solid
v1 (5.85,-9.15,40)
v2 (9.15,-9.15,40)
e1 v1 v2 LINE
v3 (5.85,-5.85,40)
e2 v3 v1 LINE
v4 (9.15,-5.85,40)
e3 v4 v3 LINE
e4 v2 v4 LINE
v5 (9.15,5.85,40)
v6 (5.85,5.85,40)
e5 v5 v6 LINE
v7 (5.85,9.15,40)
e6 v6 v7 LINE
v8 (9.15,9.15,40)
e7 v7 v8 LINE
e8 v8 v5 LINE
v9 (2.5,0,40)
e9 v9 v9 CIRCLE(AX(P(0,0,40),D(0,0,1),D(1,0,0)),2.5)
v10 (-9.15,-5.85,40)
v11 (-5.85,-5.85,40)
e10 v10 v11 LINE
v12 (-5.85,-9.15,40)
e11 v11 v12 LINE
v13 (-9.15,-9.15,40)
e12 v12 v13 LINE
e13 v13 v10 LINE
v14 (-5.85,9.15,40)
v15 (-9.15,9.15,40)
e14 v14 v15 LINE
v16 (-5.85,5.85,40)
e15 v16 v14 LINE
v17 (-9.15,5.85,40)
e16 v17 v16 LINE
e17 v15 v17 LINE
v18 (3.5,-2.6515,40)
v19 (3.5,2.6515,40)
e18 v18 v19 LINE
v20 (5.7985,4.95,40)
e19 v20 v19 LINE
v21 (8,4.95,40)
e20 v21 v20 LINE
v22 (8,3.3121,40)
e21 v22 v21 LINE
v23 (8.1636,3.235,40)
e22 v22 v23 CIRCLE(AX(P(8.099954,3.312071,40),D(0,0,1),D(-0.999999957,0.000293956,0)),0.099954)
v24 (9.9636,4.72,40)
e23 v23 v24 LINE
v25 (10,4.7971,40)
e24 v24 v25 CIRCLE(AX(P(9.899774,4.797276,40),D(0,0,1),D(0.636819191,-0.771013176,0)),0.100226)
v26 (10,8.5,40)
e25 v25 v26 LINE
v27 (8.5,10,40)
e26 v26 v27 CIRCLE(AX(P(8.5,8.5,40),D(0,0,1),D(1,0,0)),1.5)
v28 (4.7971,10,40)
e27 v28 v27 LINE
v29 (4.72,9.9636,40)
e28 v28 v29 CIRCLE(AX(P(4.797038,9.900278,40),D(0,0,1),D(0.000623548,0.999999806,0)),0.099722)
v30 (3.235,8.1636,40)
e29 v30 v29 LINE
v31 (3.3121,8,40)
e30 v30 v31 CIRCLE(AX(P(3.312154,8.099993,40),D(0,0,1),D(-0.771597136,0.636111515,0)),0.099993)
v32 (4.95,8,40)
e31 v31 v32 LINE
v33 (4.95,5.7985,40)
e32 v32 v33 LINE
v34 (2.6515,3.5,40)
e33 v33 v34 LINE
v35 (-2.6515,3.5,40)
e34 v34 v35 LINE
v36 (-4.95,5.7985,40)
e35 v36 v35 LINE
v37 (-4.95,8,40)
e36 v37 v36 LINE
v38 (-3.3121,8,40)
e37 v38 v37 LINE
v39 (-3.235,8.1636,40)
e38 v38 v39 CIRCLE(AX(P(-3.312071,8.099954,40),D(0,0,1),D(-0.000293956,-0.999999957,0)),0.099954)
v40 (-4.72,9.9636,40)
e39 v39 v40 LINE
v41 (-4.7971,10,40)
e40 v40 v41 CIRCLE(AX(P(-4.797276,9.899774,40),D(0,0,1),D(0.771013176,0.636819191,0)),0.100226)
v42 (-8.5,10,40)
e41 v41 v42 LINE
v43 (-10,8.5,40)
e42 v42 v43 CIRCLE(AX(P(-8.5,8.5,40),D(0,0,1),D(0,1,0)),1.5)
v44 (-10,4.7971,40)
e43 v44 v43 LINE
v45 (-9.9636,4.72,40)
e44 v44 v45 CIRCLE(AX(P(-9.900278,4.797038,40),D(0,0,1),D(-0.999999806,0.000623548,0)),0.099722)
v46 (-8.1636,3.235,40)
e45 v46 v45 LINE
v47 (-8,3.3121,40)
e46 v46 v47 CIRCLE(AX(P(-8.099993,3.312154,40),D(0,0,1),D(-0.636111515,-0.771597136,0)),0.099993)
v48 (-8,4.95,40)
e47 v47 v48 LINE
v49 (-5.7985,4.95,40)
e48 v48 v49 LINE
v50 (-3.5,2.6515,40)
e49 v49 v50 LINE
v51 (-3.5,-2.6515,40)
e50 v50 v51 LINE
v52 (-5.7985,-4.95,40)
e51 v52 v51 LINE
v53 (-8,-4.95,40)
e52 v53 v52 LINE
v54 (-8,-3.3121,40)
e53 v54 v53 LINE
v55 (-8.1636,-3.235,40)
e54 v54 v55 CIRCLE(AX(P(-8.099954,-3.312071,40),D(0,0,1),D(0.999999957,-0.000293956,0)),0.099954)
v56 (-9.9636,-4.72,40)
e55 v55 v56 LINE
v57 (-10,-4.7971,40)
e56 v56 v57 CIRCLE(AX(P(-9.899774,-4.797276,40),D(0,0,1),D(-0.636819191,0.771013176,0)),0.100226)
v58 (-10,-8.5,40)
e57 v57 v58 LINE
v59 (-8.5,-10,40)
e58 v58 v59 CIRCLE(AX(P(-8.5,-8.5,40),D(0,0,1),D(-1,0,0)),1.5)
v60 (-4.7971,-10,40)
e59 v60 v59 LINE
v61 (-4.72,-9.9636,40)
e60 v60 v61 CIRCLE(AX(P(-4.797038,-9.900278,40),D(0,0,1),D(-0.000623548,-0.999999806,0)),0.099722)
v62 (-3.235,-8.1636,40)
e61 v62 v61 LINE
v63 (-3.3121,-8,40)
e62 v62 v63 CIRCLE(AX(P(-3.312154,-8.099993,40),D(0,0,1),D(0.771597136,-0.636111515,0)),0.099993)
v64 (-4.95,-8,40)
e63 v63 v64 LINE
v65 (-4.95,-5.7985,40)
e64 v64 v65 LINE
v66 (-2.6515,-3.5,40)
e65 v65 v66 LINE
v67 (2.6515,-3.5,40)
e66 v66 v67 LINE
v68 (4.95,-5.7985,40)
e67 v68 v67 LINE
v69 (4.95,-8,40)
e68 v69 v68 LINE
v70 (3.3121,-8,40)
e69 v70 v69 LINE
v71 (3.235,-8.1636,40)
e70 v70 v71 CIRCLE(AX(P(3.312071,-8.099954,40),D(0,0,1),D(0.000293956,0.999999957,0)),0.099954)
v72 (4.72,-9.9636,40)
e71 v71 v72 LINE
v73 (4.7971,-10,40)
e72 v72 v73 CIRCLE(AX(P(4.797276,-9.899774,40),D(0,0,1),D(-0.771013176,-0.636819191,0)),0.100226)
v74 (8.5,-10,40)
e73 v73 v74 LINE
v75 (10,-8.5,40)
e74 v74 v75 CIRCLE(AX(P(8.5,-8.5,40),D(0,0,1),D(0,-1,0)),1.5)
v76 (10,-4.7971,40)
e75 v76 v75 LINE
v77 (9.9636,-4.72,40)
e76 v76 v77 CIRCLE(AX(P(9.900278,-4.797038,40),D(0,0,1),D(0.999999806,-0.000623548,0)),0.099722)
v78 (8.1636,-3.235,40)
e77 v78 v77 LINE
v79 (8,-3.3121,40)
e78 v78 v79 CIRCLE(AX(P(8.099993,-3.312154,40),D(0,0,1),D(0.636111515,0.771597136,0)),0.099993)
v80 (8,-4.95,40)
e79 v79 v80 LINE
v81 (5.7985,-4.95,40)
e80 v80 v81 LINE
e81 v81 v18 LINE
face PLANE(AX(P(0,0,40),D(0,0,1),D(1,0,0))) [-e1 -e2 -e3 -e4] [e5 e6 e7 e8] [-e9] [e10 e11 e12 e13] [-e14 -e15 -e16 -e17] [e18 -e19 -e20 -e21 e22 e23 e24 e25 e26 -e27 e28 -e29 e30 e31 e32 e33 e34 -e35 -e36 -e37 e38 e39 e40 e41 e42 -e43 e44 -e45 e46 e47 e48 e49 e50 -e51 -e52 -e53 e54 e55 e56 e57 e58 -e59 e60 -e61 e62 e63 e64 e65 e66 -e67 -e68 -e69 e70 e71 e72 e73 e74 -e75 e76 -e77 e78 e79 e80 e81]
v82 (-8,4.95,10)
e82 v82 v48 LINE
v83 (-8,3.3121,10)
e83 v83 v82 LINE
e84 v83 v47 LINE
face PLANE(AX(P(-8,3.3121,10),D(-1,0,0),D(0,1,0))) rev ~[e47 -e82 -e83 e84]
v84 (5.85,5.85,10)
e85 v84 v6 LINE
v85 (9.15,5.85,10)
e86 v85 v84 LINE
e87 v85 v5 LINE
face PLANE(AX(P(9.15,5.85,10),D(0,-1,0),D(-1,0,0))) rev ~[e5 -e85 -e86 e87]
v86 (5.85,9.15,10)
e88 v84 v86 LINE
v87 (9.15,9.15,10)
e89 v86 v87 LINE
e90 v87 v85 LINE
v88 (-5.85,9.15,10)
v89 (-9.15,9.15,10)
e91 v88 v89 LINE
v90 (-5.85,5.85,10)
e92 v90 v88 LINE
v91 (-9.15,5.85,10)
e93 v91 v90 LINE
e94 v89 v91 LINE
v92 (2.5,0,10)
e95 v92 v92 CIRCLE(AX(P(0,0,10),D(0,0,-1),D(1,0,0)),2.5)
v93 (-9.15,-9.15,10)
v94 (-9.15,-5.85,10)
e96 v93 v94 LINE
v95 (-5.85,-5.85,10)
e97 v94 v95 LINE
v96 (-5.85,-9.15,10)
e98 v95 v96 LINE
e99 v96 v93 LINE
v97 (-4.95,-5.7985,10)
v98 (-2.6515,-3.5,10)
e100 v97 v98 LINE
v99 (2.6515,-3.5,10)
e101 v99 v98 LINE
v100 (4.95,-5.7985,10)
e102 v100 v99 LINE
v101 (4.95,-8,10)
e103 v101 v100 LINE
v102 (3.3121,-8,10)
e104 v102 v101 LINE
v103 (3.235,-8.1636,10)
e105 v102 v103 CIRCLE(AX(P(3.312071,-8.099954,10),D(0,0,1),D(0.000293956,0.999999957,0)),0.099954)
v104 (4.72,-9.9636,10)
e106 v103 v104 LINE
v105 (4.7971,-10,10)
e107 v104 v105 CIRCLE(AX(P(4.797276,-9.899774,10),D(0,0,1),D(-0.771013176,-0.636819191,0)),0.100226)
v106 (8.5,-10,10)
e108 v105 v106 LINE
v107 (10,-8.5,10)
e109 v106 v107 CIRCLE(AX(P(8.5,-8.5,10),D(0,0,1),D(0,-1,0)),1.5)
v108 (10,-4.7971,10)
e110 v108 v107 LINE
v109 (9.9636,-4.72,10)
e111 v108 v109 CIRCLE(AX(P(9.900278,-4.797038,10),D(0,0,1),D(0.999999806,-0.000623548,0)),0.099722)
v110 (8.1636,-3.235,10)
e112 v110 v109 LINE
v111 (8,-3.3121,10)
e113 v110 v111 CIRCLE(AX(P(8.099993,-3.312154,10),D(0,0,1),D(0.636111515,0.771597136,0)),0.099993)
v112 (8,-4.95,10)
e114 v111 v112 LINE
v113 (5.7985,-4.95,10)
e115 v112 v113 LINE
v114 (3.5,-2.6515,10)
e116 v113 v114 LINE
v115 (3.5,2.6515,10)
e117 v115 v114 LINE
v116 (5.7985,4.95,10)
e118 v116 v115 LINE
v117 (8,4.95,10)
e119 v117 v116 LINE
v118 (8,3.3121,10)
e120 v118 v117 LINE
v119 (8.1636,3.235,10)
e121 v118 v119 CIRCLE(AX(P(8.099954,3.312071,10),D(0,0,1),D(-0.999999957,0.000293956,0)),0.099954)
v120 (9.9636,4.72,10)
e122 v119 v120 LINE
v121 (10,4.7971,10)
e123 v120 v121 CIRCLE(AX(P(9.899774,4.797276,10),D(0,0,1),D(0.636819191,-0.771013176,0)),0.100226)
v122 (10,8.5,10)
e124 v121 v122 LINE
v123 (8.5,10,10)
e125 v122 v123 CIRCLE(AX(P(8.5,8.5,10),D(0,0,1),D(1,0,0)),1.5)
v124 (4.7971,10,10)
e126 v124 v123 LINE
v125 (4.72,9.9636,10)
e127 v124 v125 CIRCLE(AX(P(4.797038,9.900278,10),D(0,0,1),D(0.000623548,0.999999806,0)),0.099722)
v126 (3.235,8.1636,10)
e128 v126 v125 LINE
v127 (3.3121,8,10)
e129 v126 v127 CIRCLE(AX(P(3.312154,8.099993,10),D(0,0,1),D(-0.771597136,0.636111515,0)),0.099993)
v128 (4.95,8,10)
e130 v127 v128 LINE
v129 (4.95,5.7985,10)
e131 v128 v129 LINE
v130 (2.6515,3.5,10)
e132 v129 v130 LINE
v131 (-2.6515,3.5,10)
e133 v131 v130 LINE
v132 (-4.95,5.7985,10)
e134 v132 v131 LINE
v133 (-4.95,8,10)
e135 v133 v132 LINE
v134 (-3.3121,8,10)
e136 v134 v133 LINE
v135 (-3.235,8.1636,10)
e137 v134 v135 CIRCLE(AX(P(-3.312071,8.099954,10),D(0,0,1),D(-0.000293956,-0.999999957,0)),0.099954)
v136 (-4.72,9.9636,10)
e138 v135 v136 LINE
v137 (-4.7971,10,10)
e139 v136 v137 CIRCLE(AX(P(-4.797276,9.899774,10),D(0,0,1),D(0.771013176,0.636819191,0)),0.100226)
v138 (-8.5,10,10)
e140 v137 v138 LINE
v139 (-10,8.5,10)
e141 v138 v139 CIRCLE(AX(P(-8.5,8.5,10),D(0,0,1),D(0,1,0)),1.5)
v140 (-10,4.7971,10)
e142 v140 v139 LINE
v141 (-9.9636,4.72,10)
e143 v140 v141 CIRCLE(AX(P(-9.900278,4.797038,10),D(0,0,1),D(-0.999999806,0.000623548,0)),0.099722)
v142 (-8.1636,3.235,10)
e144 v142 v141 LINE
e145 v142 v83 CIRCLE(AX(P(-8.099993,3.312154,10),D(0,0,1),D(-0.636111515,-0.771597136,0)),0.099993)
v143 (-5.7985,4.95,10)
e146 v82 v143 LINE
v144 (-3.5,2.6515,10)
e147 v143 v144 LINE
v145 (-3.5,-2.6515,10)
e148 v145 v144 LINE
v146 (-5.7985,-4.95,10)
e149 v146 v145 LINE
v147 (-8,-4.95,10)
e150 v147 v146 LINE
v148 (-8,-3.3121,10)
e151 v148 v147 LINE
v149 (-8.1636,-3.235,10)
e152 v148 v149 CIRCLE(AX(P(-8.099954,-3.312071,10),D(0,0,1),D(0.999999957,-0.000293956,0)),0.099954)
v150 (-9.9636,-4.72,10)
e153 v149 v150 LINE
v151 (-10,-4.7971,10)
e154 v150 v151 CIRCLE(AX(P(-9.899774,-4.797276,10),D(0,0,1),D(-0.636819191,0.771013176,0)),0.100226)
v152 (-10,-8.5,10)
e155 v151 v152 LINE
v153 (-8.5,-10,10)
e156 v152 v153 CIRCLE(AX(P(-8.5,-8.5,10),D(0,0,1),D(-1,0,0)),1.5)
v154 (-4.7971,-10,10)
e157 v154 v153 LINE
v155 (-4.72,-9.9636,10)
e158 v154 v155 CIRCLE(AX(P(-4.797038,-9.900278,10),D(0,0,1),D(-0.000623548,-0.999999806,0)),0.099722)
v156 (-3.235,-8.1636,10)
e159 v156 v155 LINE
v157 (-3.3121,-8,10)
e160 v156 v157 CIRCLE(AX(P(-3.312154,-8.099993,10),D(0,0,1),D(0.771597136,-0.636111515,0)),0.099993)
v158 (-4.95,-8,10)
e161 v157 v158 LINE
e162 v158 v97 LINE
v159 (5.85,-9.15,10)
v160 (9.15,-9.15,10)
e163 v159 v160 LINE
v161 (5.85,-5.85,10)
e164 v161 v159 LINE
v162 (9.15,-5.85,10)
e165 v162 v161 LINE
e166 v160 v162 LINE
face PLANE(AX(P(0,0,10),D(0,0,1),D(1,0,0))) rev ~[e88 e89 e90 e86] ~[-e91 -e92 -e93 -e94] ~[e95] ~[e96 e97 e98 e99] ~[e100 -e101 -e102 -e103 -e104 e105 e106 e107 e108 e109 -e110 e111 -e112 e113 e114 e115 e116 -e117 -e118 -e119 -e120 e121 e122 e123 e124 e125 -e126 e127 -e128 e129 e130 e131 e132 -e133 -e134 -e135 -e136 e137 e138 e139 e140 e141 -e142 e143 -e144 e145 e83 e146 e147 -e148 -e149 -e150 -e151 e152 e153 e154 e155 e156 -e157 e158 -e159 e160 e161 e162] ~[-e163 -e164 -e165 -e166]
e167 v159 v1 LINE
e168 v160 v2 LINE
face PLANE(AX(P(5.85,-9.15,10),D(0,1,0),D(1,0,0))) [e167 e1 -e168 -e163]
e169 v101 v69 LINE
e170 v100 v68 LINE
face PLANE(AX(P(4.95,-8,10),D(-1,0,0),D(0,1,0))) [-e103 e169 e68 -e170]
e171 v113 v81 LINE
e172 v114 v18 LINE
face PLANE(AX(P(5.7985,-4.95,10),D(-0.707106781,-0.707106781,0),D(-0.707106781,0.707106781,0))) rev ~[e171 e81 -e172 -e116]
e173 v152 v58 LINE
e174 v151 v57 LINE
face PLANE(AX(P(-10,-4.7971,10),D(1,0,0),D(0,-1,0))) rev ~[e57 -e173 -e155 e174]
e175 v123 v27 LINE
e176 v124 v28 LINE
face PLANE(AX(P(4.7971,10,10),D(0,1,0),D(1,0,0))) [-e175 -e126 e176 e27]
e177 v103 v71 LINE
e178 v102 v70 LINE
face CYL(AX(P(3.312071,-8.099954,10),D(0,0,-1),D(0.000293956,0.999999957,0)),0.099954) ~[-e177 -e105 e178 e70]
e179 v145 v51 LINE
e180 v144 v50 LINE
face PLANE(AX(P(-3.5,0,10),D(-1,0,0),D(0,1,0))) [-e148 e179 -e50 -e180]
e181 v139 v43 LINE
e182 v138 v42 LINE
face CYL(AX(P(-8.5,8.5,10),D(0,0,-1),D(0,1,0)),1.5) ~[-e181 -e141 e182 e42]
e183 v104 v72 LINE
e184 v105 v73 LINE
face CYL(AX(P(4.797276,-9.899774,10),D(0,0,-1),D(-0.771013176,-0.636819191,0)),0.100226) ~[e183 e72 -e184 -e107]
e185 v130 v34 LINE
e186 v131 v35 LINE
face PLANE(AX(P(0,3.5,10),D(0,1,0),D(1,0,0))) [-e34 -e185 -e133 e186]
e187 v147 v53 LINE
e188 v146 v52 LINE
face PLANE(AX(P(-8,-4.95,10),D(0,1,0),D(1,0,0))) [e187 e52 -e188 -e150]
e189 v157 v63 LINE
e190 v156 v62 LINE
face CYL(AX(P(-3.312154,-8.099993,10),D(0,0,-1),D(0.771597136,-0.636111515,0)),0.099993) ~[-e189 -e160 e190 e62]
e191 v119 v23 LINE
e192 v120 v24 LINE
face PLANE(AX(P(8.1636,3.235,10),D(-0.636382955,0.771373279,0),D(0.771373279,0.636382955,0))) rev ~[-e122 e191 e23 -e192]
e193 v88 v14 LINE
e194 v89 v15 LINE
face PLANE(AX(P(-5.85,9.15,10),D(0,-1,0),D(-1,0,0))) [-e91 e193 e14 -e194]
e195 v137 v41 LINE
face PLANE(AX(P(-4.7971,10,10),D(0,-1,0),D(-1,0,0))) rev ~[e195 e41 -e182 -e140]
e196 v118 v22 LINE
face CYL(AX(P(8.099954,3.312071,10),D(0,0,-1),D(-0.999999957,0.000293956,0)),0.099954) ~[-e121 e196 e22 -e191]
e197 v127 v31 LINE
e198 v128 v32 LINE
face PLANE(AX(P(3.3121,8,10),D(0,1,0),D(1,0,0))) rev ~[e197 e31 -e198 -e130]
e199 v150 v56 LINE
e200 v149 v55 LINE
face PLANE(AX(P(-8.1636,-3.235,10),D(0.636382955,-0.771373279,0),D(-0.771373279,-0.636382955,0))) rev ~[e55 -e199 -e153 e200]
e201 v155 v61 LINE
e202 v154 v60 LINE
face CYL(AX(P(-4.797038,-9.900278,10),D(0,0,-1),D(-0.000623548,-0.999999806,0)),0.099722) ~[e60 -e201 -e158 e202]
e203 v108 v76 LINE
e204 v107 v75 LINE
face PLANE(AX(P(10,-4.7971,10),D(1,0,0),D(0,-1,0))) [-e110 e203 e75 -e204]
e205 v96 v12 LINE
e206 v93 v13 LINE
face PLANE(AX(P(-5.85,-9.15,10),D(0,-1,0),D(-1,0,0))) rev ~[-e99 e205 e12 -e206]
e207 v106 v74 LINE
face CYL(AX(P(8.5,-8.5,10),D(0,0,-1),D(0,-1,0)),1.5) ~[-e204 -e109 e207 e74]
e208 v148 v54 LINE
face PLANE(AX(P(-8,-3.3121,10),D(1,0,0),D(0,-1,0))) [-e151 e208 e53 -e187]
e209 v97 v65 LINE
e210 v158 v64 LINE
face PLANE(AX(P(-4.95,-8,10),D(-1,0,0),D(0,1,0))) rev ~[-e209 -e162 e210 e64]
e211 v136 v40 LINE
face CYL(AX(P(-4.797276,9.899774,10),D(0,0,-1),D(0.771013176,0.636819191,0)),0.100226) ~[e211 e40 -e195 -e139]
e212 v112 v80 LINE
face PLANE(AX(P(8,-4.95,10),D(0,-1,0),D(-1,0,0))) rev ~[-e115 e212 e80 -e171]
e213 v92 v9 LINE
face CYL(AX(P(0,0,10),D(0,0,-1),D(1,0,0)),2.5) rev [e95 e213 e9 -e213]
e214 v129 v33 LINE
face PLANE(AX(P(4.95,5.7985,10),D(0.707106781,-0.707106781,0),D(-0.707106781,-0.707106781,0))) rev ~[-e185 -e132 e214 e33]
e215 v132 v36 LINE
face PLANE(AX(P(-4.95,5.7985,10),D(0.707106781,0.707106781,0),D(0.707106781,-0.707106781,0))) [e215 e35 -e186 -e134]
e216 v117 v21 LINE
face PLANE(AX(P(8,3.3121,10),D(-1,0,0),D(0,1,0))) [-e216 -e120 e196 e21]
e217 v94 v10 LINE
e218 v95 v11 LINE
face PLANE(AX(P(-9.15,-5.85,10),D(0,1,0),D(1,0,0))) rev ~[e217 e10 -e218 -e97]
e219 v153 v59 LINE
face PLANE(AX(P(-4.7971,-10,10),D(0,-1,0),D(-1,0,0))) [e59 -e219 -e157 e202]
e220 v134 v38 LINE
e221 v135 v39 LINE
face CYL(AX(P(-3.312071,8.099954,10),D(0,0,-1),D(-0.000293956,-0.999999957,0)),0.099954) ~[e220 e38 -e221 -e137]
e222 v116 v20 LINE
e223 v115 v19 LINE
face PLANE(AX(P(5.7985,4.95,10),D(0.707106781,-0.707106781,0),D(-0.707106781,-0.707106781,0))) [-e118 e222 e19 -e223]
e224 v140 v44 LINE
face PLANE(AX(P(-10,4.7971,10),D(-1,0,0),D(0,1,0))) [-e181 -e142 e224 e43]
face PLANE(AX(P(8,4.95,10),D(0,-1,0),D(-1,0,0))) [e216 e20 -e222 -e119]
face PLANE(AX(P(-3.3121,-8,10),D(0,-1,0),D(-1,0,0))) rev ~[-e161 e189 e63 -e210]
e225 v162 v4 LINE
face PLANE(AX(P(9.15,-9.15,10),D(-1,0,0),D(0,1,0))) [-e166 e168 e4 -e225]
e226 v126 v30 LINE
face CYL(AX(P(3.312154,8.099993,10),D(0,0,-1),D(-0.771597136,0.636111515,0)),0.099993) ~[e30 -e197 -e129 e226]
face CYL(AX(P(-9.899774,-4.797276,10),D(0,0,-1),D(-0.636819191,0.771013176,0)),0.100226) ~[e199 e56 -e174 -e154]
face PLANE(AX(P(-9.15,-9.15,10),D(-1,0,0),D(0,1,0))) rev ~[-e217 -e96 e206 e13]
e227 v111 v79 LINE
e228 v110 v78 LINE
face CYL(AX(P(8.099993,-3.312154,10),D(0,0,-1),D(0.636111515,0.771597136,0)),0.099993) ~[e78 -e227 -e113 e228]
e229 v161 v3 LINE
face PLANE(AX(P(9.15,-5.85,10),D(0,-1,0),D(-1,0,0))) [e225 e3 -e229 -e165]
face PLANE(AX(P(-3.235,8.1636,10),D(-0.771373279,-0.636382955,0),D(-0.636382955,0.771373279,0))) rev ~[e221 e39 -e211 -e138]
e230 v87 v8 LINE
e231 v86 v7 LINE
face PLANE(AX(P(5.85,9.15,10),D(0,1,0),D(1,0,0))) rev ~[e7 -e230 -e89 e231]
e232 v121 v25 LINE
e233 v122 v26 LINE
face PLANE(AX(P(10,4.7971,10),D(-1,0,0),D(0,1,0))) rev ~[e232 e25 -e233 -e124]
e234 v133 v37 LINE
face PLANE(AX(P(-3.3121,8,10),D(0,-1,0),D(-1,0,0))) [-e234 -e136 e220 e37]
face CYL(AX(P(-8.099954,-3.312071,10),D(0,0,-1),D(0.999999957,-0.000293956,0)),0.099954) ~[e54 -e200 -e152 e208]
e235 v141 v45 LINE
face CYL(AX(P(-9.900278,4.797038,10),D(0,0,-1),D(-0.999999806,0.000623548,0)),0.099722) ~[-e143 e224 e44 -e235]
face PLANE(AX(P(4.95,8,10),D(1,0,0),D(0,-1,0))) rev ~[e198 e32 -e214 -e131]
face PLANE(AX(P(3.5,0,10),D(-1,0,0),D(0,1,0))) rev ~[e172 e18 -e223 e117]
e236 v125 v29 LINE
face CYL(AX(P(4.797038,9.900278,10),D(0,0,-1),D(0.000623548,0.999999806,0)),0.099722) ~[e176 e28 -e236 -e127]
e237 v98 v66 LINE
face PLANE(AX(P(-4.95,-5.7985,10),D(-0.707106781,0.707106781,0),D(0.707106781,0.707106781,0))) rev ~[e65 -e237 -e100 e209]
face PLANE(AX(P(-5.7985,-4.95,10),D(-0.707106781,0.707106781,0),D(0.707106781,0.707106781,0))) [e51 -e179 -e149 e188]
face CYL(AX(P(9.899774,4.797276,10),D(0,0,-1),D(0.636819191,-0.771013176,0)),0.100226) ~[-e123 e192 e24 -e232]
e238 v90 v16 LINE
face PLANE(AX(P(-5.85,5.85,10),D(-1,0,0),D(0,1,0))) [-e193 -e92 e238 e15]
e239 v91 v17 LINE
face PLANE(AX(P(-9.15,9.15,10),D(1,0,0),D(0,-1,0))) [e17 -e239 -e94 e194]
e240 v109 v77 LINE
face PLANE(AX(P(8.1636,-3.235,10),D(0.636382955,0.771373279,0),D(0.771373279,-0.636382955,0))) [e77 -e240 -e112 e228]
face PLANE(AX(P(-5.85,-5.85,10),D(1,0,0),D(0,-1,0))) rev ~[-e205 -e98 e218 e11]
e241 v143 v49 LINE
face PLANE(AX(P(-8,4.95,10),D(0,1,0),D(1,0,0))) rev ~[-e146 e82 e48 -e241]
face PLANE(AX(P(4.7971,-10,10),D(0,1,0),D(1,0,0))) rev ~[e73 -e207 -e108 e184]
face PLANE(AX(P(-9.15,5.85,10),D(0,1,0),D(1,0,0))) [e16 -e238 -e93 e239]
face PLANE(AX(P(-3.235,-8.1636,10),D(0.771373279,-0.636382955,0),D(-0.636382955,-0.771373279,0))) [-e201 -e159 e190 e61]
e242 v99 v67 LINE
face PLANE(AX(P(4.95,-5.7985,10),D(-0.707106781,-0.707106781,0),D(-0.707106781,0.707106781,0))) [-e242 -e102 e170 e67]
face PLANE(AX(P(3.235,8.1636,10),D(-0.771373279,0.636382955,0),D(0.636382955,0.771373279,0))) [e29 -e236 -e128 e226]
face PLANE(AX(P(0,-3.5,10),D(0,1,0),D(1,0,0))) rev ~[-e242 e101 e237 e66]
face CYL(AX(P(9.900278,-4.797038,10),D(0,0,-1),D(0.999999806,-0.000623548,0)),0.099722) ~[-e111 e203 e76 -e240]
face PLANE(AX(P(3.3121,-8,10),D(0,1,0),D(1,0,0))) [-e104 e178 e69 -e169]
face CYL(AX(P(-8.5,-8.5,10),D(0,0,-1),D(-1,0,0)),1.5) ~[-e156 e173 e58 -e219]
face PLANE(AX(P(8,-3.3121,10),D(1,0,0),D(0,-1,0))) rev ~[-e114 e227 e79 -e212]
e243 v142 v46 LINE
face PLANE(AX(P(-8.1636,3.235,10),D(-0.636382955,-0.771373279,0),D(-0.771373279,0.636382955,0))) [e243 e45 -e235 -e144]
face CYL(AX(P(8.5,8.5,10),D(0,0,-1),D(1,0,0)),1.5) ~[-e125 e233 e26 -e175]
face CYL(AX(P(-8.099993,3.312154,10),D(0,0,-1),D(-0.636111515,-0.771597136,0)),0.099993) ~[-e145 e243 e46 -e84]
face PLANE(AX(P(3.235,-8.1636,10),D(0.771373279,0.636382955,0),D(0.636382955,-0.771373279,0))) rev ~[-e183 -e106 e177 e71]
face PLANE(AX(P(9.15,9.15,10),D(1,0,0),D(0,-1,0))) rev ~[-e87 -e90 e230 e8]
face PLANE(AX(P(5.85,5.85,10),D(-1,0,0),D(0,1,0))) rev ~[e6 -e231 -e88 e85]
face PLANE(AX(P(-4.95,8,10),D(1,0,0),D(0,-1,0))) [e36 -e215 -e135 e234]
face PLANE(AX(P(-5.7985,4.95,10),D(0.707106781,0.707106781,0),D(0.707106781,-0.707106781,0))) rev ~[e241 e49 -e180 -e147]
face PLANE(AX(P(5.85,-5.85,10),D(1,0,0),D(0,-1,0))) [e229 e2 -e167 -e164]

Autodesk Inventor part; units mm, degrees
ref_plane "Начальная плоскость" through (0, 0, 10) normal (0, 0, 1) x (1, 0, 0)
ref_plane "Конечная плоскость" through (0, 0, 40) normal (0, 0, 1) x (1, 0, 0)
sketch "Эскиз" plane through (0, 0, 0) normal (0, 0, 1) x (1, 0, 0)
  line L0 (-14.4349, 0) -> (14.4349, 0) projected
  line L1 (0, -14) -> (0, 14) projected
  line L2 (0, 0) -> (7.5, 7.5) construction
  circle A0 centre (7.5, 7.5) radius 1.65 construction
  line L3 (5.85, 9.15) -> (9.15, 9.15)
  line L4 (9.15, 9.15) -> (9.15, 5.85)
  line L5 (9.15, 5.85) -> (5.85, 5.85)
  line L6 (5.85, 5.85) -> (5.85, 9.15)
  line L7 (3.235, 8.1636) -> (4.72, 9.9636)
  line L8 (4.7971, 10) -> (8.5, 10)
  line L9 (3.3121, 8) -> (4.95, 8)
  line L10 (4.95, 8) -> (4.95, 5.7985)
  line L11 (4.95, 5.7985) -> (2.6515, 3.5)
  line L12 (0, 3.5) -> (2.6515, 3.5)
  circle A1 centre (0, 0) radius 2.5
  line L13 (8.1636, 3.235) -> (9.9636, 4.72)
  line L14 (10, 4.7971) -> (10, 8.5)
  line L15 (8, 3.3121) -> (8, 4.95)
  line L16 (8, 4.95) -> (5.7985, 4.95)
  line L17 (5.7985, 4.95) -> (3.5, 2.6515)
  line L18 (3.5, 0) -> (3.5, 2.6515)
  arc A2 (10, 8.5) -> (8.5, 10) centre (8.5, 8.5) ccw
  line L19 (0, 0) -> (-7.5, 7.5) construction
  circle A3 centre (-7.5, 7.5) radius 1.65 construction
  line L20 (-5.85, 9.15) -> (-9.15, 9.15)
  line L21 (-9.15, 9.15) -> (-9.15, 5.85)
  line L22 (-9.15, 5.85) -> (-5.85, 5.85)
  line L23 (-5.85, 5.85) -> (-5.85, 9.15)
  line L24 (-3.235, 8.1636) -> (-4.72, 9.9636)
  line L25 (-4.7971, 10) -> (-8.5, 10)
  line L26 (-3.3121, 8) -> (-4.95, 8)
  line L27 (-4.95, 8) -> (-4.95, 5.7985)
  line L28 (-4.95, 5.7985) -> (-2.6515, 3.5)
  line L29 (0, 3.5) -> (-2.6515, 3.5)
  line L30 (-3.5, 0) -> (-3.5, 2.6515)
  line L31 (-5.7985, 4.95) -> (-3.5, 2.6515)
  line L32 (-8, 4.95) -> (-5.7985, 4.95)
  line L33 (-8, 3.3121) -> (-8, 4.95)
  line L34 (-8.1636, 3.235) -> (-9.9636, 4.72)
  line L35 (-10, 4.7971) -> (-10, 8.5)
  arc A4 (-8.5, 10) -> (-10, 8.5) centre (-8.5, 8.5) ccw
  line L36 (0, 14) -> (0, -14)
  line L37 (0, 0) -> (7.5, -7.5) construction
  circle A5 centre (7.5, -7.5) radius 1.65 construction
  line L38 (5.85, -9.15) -> (9.15, -9.15)
  line L39 (9.15, -9.15) -> (9.15, -5.85)
  line L40 (9.15, -5.85) -> (5.85, -5.85)
  line L41 (5.85, -5.85) -> (5.85, -9.15)
  line L42 (3.235, -8.1636) -> (4.72, -9.9636)
  line L43 (4.7971, -10) -> (8.5, -10)
  line L44 (3.3121, -8) -> (4.95, -8)
  line L45 (4.95, -8) -> (4.95, -5.7985)
  line L46 (4.95, -5.7985) -> (2.6515, -3.5)
  line L47 (0, -3.5) -> (2.6515, -3.5)
  line L48 (3.5, 0) -> (3.5, -2.6515)
  line L49 (5.7985, -4.95) -> (3.5, -2.6515)
  line L50 (8, -4.95) -> (5.7985, -4.95)
  line L51 (8, -3.3121) -> (8, -4.95)
  line L52 (8.1636, -3.235) -> (9.9636, -4.72)
  line L53 (10, -4.7971) -> (10, -8.5)
  arc A6 (8.5, -10) -> (10, -8.5) centre (8.5, -8.5) ccw
  line L54 (0, 0) -> (-7.5, -7.5) construction
  line L55 (-4.95, -8) -> (-4.95, -5.7985)
  line L56 (-3.3121, -8) -> (-4.95, -8)
  line L57 (-5.7985, -4.95) -> (-3.5, -2.6515)
  line L58 (-4.95, -5.7985) -> (-2.6515, -3.5)
  line L59 (-3.5, 0) -> (-3.5, -2.6515)
  line L60 (0, -3.5) -> (-2.6515, -3.5)
  circle A7 centre (-7.5, -7.5) radius 1.65 construction
  line L61 (-5.85, -5.85) -> (-5.85, -9.15)
  line L62 (-5.85, -9.15) -> (-9.15, -9.15)
  line L63 (-9.15, -9.15) -> (-9.15, -5.85)
  line L64 (-9.15, -5.85) -> (-5.85, -5.85)
  line L65 (-3.235, -8.1636) -> (-4.72, -9.9636)
  line L66 (-8, -4.95) -> (-5.7985, -4.95)
  line L67 (-8, -3.3121) -> (-8, -4.95)
  line L68 (-8.1636, -3.235) -> (-9.9636, -4.72)
  line L69 (-4.7971, -10) -> (-8.5, -10)
  line L70 (-10, -4.7971) -> (-10, -8.5)
  arc A8 (-10, -8.5) -> (-8.5, -10) centre (-8.5, -8.5) ccw
  arc A9 (3.235, 8.1636) -> (3.3121, 8) centre (3.3121, 8.1) ccw
  arc A10 (4.7971, 10) -> (4.72, 9.9636) centre (4.7971, 9.9) ccw
  arc A11 (8, 3.3121) -> (8.1636, 3.235) centre (8.1, 3.3121) ccw
  arc A12 (9.9636, 4.72) -> (10, 4.7971) centre (9.9, 4.7971) ccw
  arc A13 (-3.3121, 8) -> (-3.235, 8.1636) centre (-3.3121, 8.1) ccw
  arc A14 (-4.72, 9.9636) -> (-4.7971, 10) centre (-4.7971, 9.9) ccw
  arc A15 (-8.1636, 3.235) -> (-8, 3.3121) centre (-8.1, 3.3121) ccw
  arc A16 (-10, 4.7971) -> (-9.9636, 4.72) centre (-9.9, 4.7971) ccw
  arc A17 (-8, -3.3121) -> (-8.1636, -3.235) centre (-8.1, -3.3121) ccw
  arc A18 (-9.9636, -4.72) -> (-10, -4.7971) centre (-9.9, -4.7971) ccw
  arc A19 (-3.235, -8.1636) -> (-3.3121, -8) centre (-3.3121, -8.1) ccw
  arc A20 (-4.7971, -10) -> (-4.72, -9.9636) centre (-4.7971, -9.9) ccw
  arc A21 (4.72, -9.9636) -> (4.7971, -10) centre (4.7971, -9.9) ccw
  arc A22 (3.3121, -8) -> (3.235, -8.1636) centre (3.3121, -8.1) ccw
  arc A23 (8.1636, -3.235) -> (8, -3.3121) centre (8.1, -3.3121) ccw
  arc A24 (10, -4.7971) -> (9.9636, -4.72) centre (9.9, -4.7971) ccw
  point P0 (3.1, 8)
  point P1 (4.75, 10)
  point P2 (7.5, 9.15)
  point P3 (8, 3.1)
  point P4 (10, 4.75)
  point P5 (7.5, 5.85)
  point P6 (9.15, 7.5)
  point P7 (-3.1, 8)
  point P8 (-4.75, 10)
  point P9 (-7.5, 9.15)
  point P10 (-8, 3.1)
  point P11 (-10, 4.75)
  point P12 (-7.5, 5.85)
  point P13 (-9.15, 7.5)
  point P14 (3.1, -8)
  point P15 (4.75, -10)
  point P16 (7.5, -9.15)
  point P17 (8, -3.1)
  point P18 (10, -4.75)
  point P19 (7.5, -5.85)
  point P20 (9.15, -7.5)
  point P21 (-3.1, -8)
  point P22 (-7.5, -5.85)
  point P23 (-7.5, -9.15)
  point P24 (-9.15, -7.5)
  point P25 (-4.75, -10)
  point P26 (-8, -3.1)
  point P27 (-10, -4.75)
  dimension "d0" = 45
  dimension "d1" = 3.3
  dimension "d2" = 1.5
  dimension "d3" = 1.2
  dimension "d4" = 5
  dimension "d5" = 6.5
  dimension "d6" = 15
  dimension "d7" = 20
  dimension "d8" = 9.9
  dimension "d9" = 9.5
  dimension "d10" = 6.2
  dimension "d11" = 2
  dimension "d18" = 0.1
  dimension "d19" = 0.1
extrude "Тело" add sketch "Эскиз" along normal up to surface (30 mm away) from surface at 10 contours A1 L1 L12 L11 L10 L9 A9 L7 A10 L8 A2 L14 A12 L13 A11 L15 L16 L17 L18 L0 | L0 L48 L49 L50 L51 A23 L52 A24 L53 A6 L43 A21 L42 A22 L44 L45 L46 L47 L1 A1 | A1 L0 L30 L31 L32 L33 A15 L34 A16 L35 A4 L25 A14 L24 A13 L26 L27 L28 L29 L1 | L1 L60 L58 L55 L56 A19 L65 A20 L69 A8 L70 A18 L68 A17 L67 L66 L57 L59 L0 A1
sketch "Эскиз2" plane through (0, 0, 0) normal (0, 0, 1) x (1, 0, 0)
  line L0 (0, 0) -> (10, 0)
ref_plane "РабПлоскость3" through (0, 0, 0) normal (0, -1, 0) x (1, 0, 0)
sketch "Эскиз3" plane through (0, 0, 0) normal (0, -1, 0) x (1, 0, 0)
  line L0 (-2, 10) -> (12, 10)
  line L1 (-2, 40) -> (12, 40)
  dimension "d25" = 30
ref_plane "РабПлоскость4" through (-10, 0, 40) normal (0, 0, 1) x (1, 0, 0)
split "Разделение1" plane through (-10, 0, 40) removes the side toward (0, 0, 1)
ref_plane "РабПлоскость5" through (0, -10, 40) normal (0, 0, 1) x (1, 0, 0)
split "Разделение2" plane through (0, -10, 40) removes the side toward (0, 0, 1)
ref_plane "РабПлоскость6" through (300, 0, 10) normal (0, 0, -1) x (-1, 0, 0)
split "Разделение3" plane through (300, 0, 10) removes the side toward (0, 0, -1)
ref_plane "РабПлоскость7" through (0, -10, -10) normal (0, 0, -1) x (-1, 0, 0)
split "Разделение4" plane through (0, -10, -10) removes the side toward (0, 0, -1)
properties part number "короткая палка"
